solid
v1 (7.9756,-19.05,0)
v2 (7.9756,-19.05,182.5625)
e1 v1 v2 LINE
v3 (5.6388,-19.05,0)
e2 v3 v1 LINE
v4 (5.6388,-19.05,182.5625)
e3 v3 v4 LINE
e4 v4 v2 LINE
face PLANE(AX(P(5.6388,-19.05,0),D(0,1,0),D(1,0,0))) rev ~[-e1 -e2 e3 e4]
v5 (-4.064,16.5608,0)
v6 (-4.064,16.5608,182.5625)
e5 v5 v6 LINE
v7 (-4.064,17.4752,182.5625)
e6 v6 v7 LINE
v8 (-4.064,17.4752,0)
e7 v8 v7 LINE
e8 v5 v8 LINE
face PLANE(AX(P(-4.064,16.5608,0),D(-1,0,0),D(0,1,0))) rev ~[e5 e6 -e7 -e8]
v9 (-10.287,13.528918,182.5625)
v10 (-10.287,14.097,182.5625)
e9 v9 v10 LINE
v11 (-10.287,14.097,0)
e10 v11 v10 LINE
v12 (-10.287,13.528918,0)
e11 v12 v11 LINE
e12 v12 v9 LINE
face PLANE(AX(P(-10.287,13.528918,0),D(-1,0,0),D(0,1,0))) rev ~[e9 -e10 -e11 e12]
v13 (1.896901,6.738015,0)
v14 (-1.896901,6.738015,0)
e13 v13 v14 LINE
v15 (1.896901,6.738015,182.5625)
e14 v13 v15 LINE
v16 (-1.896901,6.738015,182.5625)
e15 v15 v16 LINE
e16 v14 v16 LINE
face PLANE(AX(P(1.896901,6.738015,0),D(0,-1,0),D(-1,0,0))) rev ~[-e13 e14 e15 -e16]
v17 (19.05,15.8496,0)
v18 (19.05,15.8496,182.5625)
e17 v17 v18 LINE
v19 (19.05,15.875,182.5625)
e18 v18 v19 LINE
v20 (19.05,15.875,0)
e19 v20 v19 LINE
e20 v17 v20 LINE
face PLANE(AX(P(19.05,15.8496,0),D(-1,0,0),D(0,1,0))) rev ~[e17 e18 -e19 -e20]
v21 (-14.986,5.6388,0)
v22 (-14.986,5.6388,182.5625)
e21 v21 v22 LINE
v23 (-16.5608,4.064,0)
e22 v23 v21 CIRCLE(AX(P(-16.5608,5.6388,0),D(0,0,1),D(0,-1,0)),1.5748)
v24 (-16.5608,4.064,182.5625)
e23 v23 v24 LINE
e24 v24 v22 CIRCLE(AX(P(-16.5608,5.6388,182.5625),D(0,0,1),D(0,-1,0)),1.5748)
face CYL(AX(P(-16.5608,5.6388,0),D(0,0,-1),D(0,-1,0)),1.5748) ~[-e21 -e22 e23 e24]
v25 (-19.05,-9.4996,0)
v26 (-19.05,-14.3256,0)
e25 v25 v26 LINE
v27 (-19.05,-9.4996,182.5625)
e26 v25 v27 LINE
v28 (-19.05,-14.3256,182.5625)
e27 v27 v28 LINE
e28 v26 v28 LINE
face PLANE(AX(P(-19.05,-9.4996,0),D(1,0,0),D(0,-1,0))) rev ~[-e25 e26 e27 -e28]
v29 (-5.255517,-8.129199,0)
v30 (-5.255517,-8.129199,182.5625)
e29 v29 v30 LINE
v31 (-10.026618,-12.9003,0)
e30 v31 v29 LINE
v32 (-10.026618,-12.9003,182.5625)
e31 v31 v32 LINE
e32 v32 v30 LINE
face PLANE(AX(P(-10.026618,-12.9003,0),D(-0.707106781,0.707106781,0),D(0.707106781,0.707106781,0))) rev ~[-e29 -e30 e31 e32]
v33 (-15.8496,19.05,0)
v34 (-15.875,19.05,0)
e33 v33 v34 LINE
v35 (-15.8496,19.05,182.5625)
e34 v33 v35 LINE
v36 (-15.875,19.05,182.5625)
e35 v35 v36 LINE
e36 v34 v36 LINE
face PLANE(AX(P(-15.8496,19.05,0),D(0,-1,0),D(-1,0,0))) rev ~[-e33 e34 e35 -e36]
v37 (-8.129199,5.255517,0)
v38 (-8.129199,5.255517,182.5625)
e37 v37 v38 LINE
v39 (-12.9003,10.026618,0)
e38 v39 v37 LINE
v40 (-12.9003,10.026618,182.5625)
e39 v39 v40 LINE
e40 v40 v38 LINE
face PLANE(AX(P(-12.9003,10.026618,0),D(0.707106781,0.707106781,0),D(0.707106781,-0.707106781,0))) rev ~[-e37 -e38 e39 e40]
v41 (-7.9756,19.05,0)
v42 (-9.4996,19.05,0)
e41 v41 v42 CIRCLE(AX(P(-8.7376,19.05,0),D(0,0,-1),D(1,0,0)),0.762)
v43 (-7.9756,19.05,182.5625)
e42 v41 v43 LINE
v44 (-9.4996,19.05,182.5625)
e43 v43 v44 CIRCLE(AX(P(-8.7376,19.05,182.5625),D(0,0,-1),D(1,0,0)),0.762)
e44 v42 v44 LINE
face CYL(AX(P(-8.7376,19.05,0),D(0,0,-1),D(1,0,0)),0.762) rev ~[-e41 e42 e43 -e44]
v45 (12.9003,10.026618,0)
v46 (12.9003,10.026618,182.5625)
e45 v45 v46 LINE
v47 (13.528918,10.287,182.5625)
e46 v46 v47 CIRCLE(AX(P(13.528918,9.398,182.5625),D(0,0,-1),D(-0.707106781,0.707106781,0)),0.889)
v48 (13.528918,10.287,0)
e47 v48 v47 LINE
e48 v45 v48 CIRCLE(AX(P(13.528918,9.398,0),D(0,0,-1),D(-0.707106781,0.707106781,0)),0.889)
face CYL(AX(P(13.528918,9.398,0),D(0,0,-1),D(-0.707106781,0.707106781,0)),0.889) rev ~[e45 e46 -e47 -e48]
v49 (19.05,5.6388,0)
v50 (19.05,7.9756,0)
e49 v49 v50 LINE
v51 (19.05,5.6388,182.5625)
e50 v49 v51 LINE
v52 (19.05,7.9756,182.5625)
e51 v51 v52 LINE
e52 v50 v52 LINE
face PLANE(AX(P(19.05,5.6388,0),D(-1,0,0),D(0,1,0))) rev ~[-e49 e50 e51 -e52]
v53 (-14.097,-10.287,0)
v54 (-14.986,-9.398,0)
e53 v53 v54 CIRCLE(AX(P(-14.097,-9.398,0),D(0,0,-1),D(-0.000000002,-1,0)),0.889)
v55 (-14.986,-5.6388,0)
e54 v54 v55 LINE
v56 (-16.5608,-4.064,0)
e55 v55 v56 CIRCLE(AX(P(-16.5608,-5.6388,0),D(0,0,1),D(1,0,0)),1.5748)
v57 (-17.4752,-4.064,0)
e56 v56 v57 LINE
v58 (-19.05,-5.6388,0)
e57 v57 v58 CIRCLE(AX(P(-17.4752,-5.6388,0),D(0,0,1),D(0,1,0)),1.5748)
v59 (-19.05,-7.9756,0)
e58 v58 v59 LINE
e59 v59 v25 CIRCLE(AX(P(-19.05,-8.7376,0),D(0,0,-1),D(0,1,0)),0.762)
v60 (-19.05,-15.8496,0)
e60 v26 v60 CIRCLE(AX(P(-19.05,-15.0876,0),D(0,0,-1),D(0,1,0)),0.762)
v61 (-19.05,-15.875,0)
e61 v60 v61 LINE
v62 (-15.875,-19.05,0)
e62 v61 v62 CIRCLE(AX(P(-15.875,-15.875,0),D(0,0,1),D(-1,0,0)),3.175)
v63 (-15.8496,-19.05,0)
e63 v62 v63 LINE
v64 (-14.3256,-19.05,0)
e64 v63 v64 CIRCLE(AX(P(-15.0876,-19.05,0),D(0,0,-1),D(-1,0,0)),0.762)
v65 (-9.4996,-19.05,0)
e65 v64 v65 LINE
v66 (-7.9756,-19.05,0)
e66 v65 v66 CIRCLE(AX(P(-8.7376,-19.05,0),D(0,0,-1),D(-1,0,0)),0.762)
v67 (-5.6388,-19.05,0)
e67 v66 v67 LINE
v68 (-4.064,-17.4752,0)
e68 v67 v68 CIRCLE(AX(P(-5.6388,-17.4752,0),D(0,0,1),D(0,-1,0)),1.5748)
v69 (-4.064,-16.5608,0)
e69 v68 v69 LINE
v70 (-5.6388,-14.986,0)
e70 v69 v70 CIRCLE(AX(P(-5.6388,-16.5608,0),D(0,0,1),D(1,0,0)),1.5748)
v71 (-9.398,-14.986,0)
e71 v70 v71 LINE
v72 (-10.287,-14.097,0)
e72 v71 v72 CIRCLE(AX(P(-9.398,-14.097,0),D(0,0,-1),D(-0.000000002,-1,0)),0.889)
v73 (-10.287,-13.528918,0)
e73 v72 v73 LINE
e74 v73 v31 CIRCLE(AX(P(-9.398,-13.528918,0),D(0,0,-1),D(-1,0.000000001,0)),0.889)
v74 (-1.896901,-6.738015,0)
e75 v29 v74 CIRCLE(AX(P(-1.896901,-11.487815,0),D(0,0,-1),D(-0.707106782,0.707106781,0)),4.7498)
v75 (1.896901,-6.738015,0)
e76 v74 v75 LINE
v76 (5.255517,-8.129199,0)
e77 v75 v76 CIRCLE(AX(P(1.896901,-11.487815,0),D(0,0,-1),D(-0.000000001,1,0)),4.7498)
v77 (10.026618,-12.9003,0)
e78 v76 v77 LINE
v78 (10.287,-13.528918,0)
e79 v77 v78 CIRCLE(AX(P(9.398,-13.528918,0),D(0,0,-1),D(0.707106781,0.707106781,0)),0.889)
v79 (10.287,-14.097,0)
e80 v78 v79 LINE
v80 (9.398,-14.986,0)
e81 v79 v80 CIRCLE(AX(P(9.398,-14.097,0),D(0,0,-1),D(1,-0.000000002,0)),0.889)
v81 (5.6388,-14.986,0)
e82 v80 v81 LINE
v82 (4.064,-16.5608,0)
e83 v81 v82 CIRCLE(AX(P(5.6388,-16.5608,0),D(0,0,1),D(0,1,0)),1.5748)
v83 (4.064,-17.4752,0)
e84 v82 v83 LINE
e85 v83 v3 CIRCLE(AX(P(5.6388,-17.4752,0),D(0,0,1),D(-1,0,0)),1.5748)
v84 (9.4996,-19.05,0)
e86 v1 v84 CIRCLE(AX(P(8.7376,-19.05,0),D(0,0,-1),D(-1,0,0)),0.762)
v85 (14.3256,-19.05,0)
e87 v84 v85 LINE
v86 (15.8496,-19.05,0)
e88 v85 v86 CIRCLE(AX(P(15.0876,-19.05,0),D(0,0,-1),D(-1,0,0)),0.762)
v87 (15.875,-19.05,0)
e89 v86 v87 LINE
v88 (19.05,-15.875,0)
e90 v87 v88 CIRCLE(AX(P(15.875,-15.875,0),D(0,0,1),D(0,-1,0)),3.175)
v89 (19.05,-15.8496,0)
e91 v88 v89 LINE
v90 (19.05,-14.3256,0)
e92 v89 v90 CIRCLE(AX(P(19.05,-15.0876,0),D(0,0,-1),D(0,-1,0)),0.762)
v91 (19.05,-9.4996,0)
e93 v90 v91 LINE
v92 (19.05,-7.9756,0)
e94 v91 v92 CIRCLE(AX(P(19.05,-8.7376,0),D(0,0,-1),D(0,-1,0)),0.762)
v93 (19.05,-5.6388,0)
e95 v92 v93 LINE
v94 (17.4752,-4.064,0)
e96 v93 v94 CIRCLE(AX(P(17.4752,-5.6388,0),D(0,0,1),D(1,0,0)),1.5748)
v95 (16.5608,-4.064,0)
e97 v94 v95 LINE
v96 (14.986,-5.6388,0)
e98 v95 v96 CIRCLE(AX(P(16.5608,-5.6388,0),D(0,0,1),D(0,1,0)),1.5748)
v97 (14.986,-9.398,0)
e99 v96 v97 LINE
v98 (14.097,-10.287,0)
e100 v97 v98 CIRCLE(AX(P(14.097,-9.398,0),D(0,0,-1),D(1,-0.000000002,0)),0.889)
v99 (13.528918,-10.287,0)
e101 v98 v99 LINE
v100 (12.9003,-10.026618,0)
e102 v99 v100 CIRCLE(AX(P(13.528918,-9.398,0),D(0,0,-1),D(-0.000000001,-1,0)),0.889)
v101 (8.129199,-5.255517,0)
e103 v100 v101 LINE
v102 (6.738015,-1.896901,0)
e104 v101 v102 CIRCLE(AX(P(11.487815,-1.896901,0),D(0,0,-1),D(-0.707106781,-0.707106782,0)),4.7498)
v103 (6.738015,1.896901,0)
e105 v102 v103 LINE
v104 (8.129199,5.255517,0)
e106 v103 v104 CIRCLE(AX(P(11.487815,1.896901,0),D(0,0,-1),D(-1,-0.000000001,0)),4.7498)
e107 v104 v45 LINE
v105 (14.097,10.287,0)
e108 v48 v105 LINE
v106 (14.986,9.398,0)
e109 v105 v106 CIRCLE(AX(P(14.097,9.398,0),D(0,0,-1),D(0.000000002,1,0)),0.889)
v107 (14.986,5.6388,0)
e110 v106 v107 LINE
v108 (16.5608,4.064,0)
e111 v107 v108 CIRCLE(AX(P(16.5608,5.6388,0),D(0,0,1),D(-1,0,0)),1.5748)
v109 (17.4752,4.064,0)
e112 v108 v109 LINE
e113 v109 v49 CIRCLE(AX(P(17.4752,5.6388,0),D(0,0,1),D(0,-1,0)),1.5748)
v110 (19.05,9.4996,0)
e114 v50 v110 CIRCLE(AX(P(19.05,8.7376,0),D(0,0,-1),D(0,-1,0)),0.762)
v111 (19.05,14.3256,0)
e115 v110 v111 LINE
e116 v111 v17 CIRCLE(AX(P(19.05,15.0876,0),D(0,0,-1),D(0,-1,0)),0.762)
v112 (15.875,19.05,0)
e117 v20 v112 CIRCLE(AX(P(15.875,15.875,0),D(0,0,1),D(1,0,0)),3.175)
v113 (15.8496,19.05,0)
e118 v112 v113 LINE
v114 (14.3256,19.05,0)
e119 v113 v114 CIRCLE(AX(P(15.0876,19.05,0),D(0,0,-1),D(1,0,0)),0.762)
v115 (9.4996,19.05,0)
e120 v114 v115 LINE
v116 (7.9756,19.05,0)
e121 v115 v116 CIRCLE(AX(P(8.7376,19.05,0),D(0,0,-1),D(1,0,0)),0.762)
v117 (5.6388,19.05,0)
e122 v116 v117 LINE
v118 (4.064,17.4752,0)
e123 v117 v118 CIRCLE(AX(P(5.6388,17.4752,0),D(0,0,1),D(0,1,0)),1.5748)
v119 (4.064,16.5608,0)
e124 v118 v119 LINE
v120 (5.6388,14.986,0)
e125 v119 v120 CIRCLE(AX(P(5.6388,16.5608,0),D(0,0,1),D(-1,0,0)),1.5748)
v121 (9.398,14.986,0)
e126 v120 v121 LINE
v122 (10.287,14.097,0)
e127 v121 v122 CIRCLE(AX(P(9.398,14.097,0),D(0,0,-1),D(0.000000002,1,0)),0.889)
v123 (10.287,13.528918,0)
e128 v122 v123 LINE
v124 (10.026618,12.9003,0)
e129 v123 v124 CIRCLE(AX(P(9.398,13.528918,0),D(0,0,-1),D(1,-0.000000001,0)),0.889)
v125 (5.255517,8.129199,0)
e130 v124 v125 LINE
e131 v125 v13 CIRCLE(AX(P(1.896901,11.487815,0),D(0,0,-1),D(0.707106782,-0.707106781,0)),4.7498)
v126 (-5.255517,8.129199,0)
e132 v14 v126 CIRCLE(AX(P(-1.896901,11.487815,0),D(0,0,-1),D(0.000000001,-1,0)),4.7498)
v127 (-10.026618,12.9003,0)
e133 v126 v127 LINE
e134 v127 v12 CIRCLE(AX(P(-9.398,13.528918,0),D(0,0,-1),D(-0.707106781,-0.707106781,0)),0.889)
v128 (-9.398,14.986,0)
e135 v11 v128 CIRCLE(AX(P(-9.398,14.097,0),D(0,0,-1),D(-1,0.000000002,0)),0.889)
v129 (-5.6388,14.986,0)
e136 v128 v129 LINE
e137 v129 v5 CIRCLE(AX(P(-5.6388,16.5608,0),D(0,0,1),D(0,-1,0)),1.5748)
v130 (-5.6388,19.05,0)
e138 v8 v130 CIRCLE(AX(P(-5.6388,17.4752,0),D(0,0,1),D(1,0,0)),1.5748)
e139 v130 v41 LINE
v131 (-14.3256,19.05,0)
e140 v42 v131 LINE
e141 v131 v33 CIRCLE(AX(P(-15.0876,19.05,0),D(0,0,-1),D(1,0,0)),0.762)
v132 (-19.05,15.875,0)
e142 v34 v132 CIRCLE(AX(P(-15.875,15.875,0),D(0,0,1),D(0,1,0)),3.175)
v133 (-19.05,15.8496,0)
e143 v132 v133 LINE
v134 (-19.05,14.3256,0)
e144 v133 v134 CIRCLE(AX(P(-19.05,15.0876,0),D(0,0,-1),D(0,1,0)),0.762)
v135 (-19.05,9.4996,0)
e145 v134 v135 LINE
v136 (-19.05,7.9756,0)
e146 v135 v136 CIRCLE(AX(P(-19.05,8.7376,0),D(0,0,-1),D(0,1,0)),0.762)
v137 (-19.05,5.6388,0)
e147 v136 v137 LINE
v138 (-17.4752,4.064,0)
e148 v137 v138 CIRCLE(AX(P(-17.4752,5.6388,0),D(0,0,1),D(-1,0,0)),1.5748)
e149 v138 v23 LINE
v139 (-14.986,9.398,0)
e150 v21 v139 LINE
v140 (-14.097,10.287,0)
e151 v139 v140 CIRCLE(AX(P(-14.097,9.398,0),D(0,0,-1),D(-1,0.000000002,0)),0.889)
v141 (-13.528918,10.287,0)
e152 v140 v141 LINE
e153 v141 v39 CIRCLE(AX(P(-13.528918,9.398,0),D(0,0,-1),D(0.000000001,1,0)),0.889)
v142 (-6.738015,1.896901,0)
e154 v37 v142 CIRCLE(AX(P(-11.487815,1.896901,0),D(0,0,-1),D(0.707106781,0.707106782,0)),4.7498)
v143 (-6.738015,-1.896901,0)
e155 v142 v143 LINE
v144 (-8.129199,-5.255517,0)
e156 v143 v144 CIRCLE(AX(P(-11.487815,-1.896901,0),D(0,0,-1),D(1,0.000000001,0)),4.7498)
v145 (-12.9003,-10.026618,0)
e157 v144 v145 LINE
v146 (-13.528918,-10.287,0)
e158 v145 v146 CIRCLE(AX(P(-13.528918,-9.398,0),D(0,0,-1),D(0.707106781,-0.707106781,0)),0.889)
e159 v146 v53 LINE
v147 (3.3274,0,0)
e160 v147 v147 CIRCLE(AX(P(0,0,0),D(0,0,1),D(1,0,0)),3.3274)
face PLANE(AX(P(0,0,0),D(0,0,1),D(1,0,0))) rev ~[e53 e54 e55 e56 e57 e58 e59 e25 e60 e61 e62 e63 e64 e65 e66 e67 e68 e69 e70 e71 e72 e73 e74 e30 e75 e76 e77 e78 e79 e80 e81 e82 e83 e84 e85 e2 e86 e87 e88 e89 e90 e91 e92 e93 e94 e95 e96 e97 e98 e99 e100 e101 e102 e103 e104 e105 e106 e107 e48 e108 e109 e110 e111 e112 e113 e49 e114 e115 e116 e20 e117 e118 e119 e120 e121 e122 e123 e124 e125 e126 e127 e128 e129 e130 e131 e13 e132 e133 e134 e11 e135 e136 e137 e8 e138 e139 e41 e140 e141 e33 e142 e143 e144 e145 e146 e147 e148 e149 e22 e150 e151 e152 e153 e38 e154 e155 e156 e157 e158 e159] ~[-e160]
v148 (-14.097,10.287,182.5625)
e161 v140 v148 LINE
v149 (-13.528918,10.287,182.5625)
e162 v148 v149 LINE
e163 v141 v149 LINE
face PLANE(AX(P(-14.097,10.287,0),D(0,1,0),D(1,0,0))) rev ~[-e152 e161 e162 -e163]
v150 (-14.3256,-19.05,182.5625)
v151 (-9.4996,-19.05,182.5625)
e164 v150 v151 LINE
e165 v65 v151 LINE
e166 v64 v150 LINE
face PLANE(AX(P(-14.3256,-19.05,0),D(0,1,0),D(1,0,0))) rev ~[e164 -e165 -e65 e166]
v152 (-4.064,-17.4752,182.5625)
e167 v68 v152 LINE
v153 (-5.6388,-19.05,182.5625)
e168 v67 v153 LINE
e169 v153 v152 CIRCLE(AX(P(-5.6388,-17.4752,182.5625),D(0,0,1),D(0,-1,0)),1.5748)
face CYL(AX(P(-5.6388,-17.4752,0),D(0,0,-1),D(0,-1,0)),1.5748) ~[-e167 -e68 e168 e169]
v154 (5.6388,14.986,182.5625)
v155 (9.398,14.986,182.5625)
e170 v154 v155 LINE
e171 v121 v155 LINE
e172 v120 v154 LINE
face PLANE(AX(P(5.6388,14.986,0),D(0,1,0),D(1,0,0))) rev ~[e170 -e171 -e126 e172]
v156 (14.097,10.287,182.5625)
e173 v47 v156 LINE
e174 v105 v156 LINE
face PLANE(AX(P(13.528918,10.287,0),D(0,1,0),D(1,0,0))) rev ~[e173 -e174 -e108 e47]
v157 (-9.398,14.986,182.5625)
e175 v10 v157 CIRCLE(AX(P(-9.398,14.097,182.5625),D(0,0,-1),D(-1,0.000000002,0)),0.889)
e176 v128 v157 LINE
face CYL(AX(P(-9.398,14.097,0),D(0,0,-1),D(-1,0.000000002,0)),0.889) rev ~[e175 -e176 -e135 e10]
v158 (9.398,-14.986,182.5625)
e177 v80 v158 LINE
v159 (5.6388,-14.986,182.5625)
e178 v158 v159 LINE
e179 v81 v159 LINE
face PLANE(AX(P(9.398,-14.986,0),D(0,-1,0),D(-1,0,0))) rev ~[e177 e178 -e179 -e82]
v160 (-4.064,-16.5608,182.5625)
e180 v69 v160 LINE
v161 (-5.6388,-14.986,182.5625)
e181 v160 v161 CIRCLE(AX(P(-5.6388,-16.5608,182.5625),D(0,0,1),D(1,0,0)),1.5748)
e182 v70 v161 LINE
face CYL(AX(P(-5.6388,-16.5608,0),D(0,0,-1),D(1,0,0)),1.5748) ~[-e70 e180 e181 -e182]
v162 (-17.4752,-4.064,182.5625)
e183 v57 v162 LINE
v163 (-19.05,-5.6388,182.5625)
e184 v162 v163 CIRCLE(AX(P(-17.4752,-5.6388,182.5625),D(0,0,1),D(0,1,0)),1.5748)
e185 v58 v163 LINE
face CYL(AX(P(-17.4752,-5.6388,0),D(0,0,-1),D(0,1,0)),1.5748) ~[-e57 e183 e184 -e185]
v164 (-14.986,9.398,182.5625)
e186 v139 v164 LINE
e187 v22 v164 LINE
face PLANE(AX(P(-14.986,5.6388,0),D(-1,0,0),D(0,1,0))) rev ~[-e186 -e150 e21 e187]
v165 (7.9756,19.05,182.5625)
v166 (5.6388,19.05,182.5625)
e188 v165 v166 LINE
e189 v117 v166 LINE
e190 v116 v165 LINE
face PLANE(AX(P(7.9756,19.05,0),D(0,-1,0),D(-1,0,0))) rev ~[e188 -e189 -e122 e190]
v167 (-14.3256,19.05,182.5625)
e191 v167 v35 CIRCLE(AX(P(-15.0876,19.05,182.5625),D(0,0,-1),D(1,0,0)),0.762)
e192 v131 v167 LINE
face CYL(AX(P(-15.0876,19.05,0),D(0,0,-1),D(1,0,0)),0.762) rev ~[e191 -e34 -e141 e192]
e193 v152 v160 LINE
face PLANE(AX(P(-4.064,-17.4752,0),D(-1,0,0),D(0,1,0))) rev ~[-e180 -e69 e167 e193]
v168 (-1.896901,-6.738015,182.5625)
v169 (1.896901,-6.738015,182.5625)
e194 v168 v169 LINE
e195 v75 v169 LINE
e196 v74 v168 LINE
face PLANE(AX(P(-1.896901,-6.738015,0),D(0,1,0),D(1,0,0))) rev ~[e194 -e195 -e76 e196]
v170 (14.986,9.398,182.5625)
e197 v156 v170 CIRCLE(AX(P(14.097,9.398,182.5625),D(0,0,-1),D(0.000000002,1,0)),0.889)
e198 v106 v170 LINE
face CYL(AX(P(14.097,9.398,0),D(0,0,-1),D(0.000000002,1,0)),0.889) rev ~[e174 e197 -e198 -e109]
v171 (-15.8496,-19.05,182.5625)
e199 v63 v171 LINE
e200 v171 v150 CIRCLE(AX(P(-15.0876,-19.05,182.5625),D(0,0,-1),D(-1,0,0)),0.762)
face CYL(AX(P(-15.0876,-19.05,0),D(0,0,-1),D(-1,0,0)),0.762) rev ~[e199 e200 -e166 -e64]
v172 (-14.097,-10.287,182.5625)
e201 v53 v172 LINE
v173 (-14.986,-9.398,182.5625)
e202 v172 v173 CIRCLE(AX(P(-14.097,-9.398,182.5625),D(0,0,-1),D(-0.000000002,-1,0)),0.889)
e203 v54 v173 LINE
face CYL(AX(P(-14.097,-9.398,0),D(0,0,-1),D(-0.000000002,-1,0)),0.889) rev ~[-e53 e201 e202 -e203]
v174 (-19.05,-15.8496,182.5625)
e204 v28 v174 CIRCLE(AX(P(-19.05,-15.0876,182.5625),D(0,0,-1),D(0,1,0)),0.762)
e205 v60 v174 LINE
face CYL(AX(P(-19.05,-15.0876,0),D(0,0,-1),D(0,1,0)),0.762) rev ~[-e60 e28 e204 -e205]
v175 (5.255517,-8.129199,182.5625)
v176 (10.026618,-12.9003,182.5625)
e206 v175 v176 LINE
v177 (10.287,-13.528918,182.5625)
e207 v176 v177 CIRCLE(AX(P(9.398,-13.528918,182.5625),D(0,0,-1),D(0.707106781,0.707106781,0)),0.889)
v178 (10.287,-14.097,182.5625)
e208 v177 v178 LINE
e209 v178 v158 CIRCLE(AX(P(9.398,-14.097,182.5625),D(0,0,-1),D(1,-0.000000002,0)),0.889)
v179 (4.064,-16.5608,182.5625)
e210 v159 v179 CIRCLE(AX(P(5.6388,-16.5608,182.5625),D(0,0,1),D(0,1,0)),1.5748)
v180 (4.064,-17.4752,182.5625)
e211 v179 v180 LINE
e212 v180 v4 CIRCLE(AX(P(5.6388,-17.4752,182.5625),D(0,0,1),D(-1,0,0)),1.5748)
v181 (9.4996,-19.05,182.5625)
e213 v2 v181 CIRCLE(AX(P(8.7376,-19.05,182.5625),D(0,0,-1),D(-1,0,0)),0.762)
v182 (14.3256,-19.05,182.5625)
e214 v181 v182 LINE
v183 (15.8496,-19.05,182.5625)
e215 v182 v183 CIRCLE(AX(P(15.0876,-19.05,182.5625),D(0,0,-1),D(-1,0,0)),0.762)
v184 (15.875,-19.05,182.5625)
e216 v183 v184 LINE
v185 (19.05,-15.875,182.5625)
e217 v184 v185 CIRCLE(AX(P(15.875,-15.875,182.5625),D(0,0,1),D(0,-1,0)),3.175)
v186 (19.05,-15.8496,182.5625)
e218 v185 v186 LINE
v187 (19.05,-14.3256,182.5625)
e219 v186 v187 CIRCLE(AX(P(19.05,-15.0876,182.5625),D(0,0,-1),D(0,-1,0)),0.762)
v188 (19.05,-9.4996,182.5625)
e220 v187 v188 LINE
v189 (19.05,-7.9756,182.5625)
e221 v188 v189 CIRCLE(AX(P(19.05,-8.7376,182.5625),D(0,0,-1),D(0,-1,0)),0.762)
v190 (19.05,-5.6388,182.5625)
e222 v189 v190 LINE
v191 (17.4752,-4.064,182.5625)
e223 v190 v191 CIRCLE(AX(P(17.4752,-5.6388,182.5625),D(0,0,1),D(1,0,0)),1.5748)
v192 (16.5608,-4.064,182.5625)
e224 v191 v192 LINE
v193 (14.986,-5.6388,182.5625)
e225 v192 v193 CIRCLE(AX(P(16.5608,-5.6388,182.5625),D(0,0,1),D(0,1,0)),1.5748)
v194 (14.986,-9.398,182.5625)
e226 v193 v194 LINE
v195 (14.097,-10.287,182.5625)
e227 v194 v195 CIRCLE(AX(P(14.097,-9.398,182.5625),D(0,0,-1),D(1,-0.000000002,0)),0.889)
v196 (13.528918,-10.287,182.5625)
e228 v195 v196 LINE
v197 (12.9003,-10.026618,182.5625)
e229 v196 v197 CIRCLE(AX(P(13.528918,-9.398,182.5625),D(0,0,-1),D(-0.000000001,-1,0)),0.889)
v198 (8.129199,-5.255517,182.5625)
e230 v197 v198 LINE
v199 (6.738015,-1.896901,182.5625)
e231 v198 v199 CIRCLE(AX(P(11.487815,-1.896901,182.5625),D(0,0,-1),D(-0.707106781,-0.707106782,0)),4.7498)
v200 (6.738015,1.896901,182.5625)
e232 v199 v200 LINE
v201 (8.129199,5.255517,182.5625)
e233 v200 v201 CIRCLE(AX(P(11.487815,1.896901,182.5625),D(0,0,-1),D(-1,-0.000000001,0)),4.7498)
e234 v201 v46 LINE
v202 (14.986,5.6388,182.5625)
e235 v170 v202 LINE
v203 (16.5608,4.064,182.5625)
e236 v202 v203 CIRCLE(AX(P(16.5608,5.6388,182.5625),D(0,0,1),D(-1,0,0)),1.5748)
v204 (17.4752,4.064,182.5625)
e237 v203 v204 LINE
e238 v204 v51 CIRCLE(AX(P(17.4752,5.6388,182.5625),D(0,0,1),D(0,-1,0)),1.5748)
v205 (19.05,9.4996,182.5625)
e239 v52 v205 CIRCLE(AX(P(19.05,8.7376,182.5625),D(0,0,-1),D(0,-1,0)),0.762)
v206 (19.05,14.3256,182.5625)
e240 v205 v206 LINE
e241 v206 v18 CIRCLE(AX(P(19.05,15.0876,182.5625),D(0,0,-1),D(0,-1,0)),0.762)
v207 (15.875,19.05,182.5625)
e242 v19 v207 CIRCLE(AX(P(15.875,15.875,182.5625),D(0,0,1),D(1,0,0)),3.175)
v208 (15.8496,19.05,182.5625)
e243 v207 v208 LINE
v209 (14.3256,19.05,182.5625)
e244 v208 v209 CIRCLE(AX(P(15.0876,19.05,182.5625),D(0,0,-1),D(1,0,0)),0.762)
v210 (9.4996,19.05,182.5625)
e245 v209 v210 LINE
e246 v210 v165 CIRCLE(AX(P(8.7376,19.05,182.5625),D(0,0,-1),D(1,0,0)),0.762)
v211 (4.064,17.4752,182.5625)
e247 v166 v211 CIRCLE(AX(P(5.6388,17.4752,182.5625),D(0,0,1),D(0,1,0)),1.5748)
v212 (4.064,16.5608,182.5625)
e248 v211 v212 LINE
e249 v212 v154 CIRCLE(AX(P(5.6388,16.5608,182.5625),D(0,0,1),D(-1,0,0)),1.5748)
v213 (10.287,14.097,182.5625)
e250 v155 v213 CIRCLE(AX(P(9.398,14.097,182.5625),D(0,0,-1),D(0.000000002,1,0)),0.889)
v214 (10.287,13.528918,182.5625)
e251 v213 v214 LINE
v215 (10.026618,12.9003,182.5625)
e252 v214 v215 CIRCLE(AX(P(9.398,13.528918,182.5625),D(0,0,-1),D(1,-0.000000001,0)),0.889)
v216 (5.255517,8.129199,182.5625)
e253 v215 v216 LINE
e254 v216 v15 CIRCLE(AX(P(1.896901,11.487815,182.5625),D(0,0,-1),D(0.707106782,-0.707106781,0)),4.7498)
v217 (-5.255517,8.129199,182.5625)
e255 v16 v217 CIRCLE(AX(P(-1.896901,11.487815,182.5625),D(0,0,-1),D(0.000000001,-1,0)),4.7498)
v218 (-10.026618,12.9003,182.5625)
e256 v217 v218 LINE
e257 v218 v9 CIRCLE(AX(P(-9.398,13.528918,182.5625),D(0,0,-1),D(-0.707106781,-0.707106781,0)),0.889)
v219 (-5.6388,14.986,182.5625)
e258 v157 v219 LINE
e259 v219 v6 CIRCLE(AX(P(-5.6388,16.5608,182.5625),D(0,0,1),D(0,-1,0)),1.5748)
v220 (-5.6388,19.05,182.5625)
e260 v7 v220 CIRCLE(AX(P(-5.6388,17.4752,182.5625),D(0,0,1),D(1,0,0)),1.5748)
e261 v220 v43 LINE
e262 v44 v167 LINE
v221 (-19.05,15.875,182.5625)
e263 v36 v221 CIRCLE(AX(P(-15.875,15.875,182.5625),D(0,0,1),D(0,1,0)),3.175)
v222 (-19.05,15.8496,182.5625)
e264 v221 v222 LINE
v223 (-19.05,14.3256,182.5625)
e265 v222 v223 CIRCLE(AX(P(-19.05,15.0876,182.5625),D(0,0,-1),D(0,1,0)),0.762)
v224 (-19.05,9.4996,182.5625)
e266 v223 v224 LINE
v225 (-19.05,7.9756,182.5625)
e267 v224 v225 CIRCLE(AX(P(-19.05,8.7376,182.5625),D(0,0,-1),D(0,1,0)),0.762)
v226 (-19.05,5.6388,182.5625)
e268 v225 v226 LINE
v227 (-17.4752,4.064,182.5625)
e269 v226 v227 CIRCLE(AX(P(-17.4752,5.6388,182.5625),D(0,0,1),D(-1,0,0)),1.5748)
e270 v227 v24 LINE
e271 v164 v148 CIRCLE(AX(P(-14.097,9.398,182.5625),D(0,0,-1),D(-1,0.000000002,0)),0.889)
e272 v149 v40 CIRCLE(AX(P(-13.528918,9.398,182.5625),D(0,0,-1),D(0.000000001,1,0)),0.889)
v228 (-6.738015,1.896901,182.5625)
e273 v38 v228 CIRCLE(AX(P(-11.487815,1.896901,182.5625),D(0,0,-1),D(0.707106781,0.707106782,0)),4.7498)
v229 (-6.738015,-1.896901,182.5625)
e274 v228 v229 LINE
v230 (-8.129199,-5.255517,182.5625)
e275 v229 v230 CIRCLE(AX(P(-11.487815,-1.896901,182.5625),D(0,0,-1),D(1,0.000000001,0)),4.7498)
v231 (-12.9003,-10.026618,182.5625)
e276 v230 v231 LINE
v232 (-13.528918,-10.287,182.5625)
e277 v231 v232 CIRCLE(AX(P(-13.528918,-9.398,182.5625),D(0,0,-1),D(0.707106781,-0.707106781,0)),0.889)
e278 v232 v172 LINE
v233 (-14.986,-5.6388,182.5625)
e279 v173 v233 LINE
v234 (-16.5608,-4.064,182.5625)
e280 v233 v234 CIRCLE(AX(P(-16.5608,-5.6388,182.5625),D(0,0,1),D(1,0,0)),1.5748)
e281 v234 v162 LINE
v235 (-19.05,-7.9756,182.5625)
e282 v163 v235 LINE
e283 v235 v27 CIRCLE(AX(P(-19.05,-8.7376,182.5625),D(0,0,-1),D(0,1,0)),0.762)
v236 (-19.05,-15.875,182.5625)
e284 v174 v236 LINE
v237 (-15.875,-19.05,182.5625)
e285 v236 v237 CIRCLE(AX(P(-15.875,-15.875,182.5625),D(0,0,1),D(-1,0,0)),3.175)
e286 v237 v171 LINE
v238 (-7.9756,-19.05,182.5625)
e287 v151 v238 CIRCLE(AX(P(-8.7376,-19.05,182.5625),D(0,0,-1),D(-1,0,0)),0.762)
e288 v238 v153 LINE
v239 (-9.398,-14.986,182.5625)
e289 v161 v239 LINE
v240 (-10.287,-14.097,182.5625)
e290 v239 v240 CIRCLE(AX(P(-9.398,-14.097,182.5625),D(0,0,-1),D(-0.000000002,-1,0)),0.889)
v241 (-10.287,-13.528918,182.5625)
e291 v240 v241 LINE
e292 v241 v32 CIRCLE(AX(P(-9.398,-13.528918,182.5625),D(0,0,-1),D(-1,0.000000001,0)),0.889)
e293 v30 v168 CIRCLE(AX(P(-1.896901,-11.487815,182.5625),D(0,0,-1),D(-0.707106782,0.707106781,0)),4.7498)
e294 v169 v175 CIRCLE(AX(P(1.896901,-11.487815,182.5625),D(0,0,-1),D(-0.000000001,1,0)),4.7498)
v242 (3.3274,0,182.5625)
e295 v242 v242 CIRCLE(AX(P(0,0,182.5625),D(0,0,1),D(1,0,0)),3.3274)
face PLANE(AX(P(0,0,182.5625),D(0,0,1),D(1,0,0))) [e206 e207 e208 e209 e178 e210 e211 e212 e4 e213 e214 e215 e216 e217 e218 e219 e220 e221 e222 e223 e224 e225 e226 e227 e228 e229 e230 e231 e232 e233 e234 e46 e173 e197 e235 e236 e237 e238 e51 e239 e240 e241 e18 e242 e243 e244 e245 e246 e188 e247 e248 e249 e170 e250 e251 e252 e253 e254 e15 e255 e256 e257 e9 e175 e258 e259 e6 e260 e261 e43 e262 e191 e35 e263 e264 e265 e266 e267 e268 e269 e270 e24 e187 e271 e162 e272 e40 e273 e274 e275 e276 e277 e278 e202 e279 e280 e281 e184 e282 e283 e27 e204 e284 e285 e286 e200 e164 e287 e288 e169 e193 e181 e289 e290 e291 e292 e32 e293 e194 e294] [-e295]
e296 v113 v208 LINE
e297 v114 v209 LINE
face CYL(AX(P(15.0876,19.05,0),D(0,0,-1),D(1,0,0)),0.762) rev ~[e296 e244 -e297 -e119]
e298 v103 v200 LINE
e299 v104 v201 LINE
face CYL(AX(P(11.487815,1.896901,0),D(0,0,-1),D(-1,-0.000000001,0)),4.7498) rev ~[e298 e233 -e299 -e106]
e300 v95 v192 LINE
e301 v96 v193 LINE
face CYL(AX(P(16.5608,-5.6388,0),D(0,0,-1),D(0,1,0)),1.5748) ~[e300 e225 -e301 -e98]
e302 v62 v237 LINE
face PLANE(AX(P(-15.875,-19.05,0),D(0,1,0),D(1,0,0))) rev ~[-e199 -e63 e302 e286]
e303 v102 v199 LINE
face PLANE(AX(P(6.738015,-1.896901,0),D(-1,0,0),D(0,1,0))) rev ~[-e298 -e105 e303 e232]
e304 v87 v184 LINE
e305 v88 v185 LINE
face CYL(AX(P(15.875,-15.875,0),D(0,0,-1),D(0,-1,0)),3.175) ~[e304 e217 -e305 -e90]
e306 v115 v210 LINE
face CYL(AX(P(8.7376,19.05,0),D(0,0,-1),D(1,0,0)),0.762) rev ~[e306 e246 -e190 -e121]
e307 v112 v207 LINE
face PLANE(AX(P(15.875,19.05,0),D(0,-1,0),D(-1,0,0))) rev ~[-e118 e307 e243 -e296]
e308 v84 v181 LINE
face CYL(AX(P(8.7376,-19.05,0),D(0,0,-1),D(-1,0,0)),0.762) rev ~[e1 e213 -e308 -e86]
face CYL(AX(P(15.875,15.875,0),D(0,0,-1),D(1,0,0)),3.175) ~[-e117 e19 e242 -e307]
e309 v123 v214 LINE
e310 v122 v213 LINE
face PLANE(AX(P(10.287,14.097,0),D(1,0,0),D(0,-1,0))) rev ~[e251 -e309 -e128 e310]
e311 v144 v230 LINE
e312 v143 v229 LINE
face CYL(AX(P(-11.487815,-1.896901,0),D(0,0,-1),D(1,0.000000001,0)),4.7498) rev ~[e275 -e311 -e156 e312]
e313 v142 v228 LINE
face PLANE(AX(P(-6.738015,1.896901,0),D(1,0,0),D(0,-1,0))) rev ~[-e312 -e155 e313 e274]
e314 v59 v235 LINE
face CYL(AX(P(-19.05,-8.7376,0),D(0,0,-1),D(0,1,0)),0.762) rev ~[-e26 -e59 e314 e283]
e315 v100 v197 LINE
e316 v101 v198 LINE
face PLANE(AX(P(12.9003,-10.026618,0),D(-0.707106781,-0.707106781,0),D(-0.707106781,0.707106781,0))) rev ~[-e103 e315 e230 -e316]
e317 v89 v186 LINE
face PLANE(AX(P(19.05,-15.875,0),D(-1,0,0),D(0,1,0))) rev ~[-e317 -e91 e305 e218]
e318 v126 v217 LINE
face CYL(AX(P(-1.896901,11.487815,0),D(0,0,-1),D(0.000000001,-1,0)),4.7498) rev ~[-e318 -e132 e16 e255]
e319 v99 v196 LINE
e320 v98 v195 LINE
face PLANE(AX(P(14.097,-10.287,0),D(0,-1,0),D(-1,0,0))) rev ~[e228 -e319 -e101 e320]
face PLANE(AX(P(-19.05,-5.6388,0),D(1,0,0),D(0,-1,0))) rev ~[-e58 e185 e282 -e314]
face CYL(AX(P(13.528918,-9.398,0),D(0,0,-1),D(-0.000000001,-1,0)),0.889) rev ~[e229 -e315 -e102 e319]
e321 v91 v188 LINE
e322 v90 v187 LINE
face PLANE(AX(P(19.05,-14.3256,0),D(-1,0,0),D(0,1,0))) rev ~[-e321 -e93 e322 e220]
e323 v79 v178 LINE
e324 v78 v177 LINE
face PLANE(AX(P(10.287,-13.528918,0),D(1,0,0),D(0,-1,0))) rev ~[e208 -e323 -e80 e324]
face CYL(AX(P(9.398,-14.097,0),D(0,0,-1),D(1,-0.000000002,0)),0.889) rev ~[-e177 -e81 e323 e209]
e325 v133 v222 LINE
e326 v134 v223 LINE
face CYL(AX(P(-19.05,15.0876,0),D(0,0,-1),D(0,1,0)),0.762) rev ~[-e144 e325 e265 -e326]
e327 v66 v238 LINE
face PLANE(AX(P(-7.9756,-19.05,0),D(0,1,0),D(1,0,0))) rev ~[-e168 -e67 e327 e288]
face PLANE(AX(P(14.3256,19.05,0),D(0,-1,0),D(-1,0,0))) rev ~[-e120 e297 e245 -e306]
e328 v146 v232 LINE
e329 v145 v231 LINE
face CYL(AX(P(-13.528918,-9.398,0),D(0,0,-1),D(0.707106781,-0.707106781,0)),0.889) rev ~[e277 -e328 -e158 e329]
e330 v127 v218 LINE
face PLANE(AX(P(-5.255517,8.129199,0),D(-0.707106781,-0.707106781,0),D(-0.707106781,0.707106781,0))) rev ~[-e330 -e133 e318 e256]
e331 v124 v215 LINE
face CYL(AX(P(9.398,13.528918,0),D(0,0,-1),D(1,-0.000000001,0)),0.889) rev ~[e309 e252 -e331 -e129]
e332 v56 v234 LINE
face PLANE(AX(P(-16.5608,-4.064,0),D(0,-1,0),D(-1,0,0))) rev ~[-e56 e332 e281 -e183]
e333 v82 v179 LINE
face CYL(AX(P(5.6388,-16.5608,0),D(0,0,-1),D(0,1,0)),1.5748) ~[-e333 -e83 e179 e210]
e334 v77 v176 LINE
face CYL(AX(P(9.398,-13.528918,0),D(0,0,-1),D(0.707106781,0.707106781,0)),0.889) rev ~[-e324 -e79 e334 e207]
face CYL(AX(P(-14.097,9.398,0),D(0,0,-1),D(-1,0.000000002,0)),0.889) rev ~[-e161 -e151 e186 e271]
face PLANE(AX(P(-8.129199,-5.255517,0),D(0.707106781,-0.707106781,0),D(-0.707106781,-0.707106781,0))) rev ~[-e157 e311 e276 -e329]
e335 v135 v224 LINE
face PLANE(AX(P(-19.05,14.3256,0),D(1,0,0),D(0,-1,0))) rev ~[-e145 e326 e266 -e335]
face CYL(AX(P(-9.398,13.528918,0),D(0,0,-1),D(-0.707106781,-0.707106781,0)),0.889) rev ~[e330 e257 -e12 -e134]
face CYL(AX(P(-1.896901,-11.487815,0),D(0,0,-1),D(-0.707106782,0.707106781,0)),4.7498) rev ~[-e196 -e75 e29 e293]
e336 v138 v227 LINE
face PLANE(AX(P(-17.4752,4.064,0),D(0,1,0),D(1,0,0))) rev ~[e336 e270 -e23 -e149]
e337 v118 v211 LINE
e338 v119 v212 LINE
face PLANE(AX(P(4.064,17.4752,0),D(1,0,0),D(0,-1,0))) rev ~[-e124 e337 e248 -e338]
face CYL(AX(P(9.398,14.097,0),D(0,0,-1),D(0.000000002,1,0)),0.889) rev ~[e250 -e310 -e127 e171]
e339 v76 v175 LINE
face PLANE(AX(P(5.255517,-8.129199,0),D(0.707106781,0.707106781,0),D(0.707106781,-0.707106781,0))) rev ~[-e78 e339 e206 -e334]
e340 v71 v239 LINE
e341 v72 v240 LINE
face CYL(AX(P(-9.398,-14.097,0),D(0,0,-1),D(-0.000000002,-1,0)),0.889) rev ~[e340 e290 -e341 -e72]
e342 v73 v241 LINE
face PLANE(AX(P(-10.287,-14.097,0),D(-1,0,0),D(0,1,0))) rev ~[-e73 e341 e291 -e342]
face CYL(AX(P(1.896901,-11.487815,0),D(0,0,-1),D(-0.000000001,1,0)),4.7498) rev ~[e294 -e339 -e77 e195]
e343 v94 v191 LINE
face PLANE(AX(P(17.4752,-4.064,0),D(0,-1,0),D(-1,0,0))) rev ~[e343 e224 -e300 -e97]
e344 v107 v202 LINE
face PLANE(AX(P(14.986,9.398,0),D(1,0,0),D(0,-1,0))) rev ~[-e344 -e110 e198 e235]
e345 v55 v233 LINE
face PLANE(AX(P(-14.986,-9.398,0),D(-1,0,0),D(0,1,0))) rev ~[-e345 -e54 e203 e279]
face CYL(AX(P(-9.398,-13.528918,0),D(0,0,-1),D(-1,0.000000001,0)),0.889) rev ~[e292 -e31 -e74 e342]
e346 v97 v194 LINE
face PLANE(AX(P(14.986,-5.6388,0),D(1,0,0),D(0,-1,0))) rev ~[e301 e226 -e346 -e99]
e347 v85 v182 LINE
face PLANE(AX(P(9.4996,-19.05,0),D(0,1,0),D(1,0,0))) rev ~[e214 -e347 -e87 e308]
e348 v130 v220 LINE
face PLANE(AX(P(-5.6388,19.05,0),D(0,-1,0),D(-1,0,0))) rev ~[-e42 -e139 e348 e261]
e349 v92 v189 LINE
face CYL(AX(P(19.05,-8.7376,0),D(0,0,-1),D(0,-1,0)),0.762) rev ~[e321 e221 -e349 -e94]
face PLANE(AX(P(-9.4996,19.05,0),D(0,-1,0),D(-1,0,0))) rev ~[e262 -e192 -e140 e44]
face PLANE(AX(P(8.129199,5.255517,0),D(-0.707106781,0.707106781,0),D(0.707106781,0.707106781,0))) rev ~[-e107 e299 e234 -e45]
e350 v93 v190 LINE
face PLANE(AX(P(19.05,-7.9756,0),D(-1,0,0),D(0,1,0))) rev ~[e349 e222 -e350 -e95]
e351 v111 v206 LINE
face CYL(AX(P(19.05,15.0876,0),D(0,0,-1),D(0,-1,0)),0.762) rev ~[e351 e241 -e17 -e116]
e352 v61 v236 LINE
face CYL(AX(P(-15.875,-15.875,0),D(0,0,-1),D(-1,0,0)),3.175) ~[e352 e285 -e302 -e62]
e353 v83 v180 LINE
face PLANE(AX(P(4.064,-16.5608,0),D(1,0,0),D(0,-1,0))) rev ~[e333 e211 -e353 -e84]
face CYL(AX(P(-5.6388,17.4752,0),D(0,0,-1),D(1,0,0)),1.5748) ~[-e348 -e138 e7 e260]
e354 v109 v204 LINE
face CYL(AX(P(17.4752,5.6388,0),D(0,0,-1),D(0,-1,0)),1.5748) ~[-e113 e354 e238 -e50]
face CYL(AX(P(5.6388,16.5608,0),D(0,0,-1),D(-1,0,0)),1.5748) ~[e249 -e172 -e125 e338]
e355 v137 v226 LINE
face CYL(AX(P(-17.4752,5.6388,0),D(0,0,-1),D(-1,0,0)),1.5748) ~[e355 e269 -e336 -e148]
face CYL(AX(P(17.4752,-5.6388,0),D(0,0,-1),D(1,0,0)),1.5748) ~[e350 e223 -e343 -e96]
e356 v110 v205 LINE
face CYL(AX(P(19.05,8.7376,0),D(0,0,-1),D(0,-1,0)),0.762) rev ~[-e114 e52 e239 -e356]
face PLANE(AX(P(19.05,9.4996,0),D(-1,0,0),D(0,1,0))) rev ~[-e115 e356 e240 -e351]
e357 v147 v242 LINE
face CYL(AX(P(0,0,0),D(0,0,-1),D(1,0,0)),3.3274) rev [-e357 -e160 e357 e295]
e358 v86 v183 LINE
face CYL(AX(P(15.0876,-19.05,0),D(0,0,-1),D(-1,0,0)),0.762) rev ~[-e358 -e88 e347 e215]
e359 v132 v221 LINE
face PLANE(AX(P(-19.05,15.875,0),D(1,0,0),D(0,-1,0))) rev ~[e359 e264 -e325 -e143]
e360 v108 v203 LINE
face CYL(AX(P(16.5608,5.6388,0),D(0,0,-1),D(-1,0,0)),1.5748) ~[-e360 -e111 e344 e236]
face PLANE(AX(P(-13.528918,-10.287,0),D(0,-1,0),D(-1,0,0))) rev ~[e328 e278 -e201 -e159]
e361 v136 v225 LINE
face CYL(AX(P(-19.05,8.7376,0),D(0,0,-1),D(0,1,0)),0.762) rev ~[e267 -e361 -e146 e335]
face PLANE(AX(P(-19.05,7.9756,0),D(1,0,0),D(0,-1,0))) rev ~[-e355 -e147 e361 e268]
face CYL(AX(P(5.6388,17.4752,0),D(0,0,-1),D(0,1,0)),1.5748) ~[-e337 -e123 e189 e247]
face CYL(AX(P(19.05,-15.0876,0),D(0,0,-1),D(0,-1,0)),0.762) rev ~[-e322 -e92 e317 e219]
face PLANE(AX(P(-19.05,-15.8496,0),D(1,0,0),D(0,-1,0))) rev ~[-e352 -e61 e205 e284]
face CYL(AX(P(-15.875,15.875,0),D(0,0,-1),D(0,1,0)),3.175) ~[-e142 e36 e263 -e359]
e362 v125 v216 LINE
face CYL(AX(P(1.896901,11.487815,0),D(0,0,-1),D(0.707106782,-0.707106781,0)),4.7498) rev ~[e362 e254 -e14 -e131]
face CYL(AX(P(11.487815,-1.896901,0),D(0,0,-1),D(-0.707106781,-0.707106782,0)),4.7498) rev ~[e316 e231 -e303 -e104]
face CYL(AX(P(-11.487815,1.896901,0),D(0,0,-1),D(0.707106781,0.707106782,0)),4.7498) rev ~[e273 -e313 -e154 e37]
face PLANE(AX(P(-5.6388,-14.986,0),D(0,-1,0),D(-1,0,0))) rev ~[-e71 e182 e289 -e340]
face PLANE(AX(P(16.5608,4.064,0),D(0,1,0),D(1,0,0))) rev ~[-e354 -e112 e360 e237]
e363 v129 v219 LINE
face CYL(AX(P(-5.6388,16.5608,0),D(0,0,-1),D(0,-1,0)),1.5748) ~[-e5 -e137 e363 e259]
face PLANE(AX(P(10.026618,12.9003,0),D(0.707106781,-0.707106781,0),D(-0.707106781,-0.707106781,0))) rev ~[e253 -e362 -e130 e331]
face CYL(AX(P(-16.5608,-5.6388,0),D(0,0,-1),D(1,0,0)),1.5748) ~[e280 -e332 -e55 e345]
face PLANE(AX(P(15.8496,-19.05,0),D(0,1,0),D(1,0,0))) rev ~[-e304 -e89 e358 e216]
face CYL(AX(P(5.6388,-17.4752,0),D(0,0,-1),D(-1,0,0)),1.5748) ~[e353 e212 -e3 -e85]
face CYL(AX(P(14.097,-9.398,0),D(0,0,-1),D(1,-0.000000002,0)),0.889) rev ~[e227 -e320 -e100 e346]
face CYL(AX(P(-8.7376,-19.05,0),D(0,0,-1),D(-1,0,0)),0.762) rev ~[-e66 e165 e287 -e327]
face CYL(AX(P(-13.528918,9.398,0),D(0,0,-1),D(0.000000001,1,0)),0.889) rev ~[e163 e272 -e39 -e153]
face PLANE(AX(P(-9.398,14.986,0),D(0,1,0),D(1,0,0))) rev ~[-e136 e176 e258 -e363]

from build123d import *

# Parameters (mm, degrees)
SKETCH1_R           = 3.3274
BOSS_EXTRUDE1_DEPTH = 182.5625


with BuildPart() as part:
    # Sketch1 → Boss-Extrude1 (new body)
    with BuildSketch(Plane.XY):
        with BuildLine():
            Line((-14.097, 10.287), (-13.528918, 10.287))
            ThreePointArc((-13.528918, 10.287), (-13.188712428, 10.219328904), (-12.900300071, 10.026617928))
            Line((-12.900300071, 10.026617928), (-8.129198975, 5.255516832))
            ThreePointArc((-8.129198975, 5.255516832), (-7.09957176, 3.71457081), (-6.738014764, 1.896901043))
            Line((-6.738014764, 1.896901043), (-6.738014764, -1.896901043))
            ThreePointArc((-6.738014764, -1.896901043), (-7.09957176, -3.71457081), (-8.129198975, -5.255516832))
            Line((-8.129198975, -5.255516832), (-12.900300071, -10.026617928))
            ThreePointArc((-12.900300071, -10.026617928), (-13.188712428, -10.219328904), (-13.528918, -10.287))
            Line((-13.528918, -10.287), (-14.097, -10.287))
            ThreePointArc((-14.097, -10.287), (-14.725617928, -10.026617928), (-14.986, -9.398))
            Line((-14.986, -9.398), (-14.986, -5.6388))
            ThreePointArc((-14.986, -5.6388), (-15.447248241, -4.525248241), (-16.5608, -4.064))
            Line((-16.5608, -4.064), (-17.4752, -4.064))
            ThreePointArc((-17.4752, -4.064), (-18.588751759, -4.525248241), (-19.05, -5.6388))
            Line((-19.05, -5.6388), (-19.05, -7.9756))
            ThreePointArc((-19.05, -7.9756), (-18.288, -8.7376), (-19.05, -9.4996))
            Line((-19.05, -9.4996), (-19.05, -14.3256))
            ThreePointArc((-19.05, -14.3256), (-18.288, -15.0876), (-19.05, -15.8496))
            Line((-19.05, -15.8496), (-19.05, -15.875))
            ThreePointArc((-19.05, -15.875), (-18.12006403, -18.12006403), (-15.875, -19.05))
            Line((-15.875, -19.05), (-15.8496, -19.05))
            ThreePointArc((-15.8496, -19.05), (-15.0876, -18.288), (-14.3256, -19.05))
            Line((-14.3256, -19.05), (-9.4996, -19.05))
            ThreePointArc((-9.4996, -19.05), (-8.7376, -18.288), (-7.9756, -19.05))
            Line((-7.9756, -19.05), (-5.6388, -19.05))
            ThreePointArc((-5.6388, -19.05), (-4.525248241, -18.588751759), (-4.064, -17.4752))
            Line((-4.064, -17.4752), (-4.064, -16.5608))
            ThreePointArc((-4.064, -16.5608), (-4.525248241, -15.447248241), (-5.6388, -14.986))
            Line((-5.6388, -14.986), (-9.398, -14.986))
            ThreePointArc((-9.398, -14.986), (-10.026617928, -14.725617928), (-10.287, -14.097))
            Line((-10.287, -14.097), (-10.287, -13.528918))
            ThreePointArc((-10.287, -13.528918), (-10.219328904, -13.188712428), (-10.026617928, -12.900300071))
            Line((-10.026617928, -12.900300071), (-5.255516832, -8.129198975))
            ThreePointArc((-5.255516832, -8.129198975), (-3.71457081, -7.09957176), (-1.896901043, -6.738014764))
            Line((-1.896901043, -6.738014764), (1.896901043, -6.738014764))
            ThreePointArc((1.896901043, -6.738014764), (3.71457081, -7.09957176), (5.255516832, -8.129198975))
            Line((5.255516832, -8.129198975), (10.026617928, -12.900300071))
            ThreePointArc((10.026617928, -12.900300071), (10.219328904, -13.188712428), (10.287, -13.528918))
            Line((10.287, -13.528918), (10.287, -14.097))
            ThreePointArc((10.287, -14.097), (10.026617928, -14.725617928), (9.398, -14.986))
            Line((9.398, -14.986), (5.6388, -14.986))
            ThreePointArc((5.6388, -14.986), (4.525248241, -15.447248241), (4.064, -16.5608))
            Line((4.064, -16.5608), (4.064, -17.4752))
            ThreePointArc((4.064, -17.4752), (4.525248241, -18.588751759), (5.6388, -19.05))
            Line((5.6388, -19.05), (7.9756, -19.05))
            ThreePointArc((7.9756, -19.05), (8.7376, -18.288), (9.4996, -19.05))
            Line((9.4996, -19.05), (14.3256, -19.05))
            ThreePointArc((14.3256, -19.05), (15.0876, -18.288), (15.8496, -19.05))
            Line((15.8496, -19.05), (15.875, -19.05))
            ThreePointArc((15.875, -19.05), (18.12006403, -18.12006403), (19.05, -15.875))
            Line((19.05, -15.875), (19.05, -15.8496))
            ThreePointArc((19.05, -15.8496), (18.288, -15.0876), (19.05, -14.3256))
            Line((19.05, -14.3256), (19.05, -9.4996))
            ThreePointArc((19.05, -9.4996), (18.288, -8.7376), (19.05, -7.9756))
            Line((19.05, -7.9756), (19.05, -5.6388))
            ThreePointArc((19.05, -5.6388), (18.588751759, -4.525248241), (17.4752, -4.064))
            Line((17.4752, -4.064), (16.5608, -4.064))
            ThreePointArc((16.5608, -4.064), (15.447248241, -4.525248241), (14.986, -5.6388))
            Line((14.986, -5.6388), (14.986, -9.398))
            ThreePointArc((14.986, -9.398), (14.725617928, -10.026617928), (14.097, -10.287))
            Line((14.097, -10.287), (13.528918, -10.287))
            ThreePointArc((13.528918, -10.287), (13.188712428, -10.219328904), (12.900300071, -10.026617928))
            Line((12.900300071, -10.026617928), (8.129198975, -5.255516832))
            ThreePointArc((8.129198975, -5.255516832), (7.09957176, -3.71457081), (6.738014764, -1.896901043))
            Line((6.738014764, -1.896901043), (6.738014764, 1.896901043))
            ThreePointArc((6.738014764, 1.896901043), (7.09957176, 3.71457081), (8.129198975, 5.255516832))
            Line((8.129198975, 5.255516832), (12.900300071, 10.026617928))
            ThreePointArc((12.900300071, 10.026617928), (13.188712428, 10.219328904), (13.528918, 10.287))
            Line((13.528918, 10.287), (14.097, 10.287))
            ThreePointArc((14.097, 10.287), (14.725617928, 10.026617928), (14.986, 9.398))
            Line((14.986, 9.398), (14.986, 5.6388))
            ThreePointArc((14.986, 5.6388), (15.447248241, 4.525248241), (16.5608, 4.064))
            Line((16.5608, 4.064), (17.4752, 4.064))
            ThreePointArc((17.4752, 4.064), (18.588751759, 4.525248241), (19.05, 5.6388))
            Line((19.05, 5.6388), (19.05, 7.9756))
            ThreePointArc((19.05, 7.9756), (18.288, 8.7376), (19.05, 9.4996))
            Line((19.05, 9.4996), (19.05, 14.3256))
            ThreePointArc((19.05, 14.3256), (18.288, 15.0876), (19.05, 15.8496))
            Line((19.05, 15.8496), (19.05, 15.875))
            ThreePointArc((19.05, 15.875), (18.12006403, 18.12006403), (15.875, 19.05))
            Line((15.875, 19.05), (15.8496, 19.05))
            ThreePointArc((15.8496, 19.05), (15.0876, 18.288), (14.3256, 19.05))
            Line((14.3256, 19.05), (9.4996, 19.05))
            ThreePointArc((9.4996, 19.05), (8.7376, 18.288), (7.9756, 19.05))
            Line((7.9756, 19.05), (5.6388, 19.05))
            ThreePointArc((5.6388, 19.05), (4.525248241, 18.588751759), (4.064, 17.4752))
            Line((4.064, 17.4752), (4.064, 16.5608))
            ThreePointArc((4.064, 16.5608), (4.525248241, 15.447248241), (5.6388, 14.986))
            Line((5.6388, 14.986), (9.398, 14.986))
            ThreePointArc((9.398, 14.986), (10.026617928, 14.725617928), (10.287, 14.097))
            Line((10.287, 14.097), (10.287, 13.528918))
            ThreePointArc((10.287, 13.528918), (10.219328904, 13.188712428), (10.026617928, 12.900300071))
            Line((10.026617928, 12.900300071), (5.255516832, 8.129198975))
            ThreePointArc((5.255516832, 8.129198975), (3.71457081, 7.09957176), (1.896901043, 6.738014764))
            Line((1.896901043, 6.738014764), (-1.896901043, 6.738014764))
            ThreePointArc((-1.896901043, 6.738014764), (-3.71457081, 7.09957176), (-5.255516832, 8.129198975))
            Line((-5.255516832, 8.129198975), (-10.026617928, 12.900300071))
            ThreePointArc((-10.026617928, 12.900300071), (-10.219328904, 13.188712428), (-10.287, 13.528918))
            Line((-10.287, 13.528918), (-10.287, 14.097))
            ThreePointArc((-10.287, 14.097), (-10.026617928, 14.725617928), (-9.398, 14.986))
            Line((-9.398, 14.986), (-5.6388, 14.986))
            ThreePointArc((-5.6388, 14.986), (-4.525248241, 15.447248241), (-4.064, 16.5608))
            Line((-4.064, 16.5608), (-4.064, 17.4752))
            ThreePointArc((-4.064, 17.4752), (-4.525248241, 18.588751759), (-5.6388, 19.05))
            Line((-5.6388, 19.05), (-7.9756, 19.05))
            ThreePointArc((-7.9756, 19.05), (-8.7376, 18.288), (-9.4996, 19.05))
            Line((-9.4996, 19.05), (-14.3256, 19.05))
            ThreePointArc((-14.3256, 19.05), (-15.0876, 18.288), (-15.8496, 19.05))
            Line((-15.8496, 19.05), (-15.875, 19.05))
            ThreePointArc((-15.875, 19.05), (-18.12006403, 18.12006403), (-19.05, 15.875))
            Line((-19.05, 15.875), (-19.05, 15.8496))
            ThreePointArc((-19.05, 15.8496), (-18.288, 15.0876), (-19.05, 14.3256))
            Line((-19.05, 14.3256), (-19.05, 9.4996))
            ThreePointArc((-19.05, 9.4996), (-18.288, 8.7376), (-19.05, 7.9756))
            Line((-19.05, 7.9756), (-19.05, 5.6388))
            ThreePointArc((-19.05, 5.6388), (-18.588751759, 4.525248241), (-17.4752, 4.064))
            Line((-17.4752, 4.064), (-16.5608, 4.064))
            ThreePointArc((-16.5608, 4.064), (-15.447248241, 4.525248241), (-14.986, 5.6388))
            Line((-14.986, 5.6388), (-14.986, 9.398))
            ThreePointArc((-14.986, 9.398), (-14.725617928, 10.026617928), (-14.097, 10.287))
        make_face()
        Circle(SKETCH1_R, mode=Mode.SUBTRACT)
    extrude(amount=BOSS_EXTRUDE1_DEPTH)


solid = part.part
